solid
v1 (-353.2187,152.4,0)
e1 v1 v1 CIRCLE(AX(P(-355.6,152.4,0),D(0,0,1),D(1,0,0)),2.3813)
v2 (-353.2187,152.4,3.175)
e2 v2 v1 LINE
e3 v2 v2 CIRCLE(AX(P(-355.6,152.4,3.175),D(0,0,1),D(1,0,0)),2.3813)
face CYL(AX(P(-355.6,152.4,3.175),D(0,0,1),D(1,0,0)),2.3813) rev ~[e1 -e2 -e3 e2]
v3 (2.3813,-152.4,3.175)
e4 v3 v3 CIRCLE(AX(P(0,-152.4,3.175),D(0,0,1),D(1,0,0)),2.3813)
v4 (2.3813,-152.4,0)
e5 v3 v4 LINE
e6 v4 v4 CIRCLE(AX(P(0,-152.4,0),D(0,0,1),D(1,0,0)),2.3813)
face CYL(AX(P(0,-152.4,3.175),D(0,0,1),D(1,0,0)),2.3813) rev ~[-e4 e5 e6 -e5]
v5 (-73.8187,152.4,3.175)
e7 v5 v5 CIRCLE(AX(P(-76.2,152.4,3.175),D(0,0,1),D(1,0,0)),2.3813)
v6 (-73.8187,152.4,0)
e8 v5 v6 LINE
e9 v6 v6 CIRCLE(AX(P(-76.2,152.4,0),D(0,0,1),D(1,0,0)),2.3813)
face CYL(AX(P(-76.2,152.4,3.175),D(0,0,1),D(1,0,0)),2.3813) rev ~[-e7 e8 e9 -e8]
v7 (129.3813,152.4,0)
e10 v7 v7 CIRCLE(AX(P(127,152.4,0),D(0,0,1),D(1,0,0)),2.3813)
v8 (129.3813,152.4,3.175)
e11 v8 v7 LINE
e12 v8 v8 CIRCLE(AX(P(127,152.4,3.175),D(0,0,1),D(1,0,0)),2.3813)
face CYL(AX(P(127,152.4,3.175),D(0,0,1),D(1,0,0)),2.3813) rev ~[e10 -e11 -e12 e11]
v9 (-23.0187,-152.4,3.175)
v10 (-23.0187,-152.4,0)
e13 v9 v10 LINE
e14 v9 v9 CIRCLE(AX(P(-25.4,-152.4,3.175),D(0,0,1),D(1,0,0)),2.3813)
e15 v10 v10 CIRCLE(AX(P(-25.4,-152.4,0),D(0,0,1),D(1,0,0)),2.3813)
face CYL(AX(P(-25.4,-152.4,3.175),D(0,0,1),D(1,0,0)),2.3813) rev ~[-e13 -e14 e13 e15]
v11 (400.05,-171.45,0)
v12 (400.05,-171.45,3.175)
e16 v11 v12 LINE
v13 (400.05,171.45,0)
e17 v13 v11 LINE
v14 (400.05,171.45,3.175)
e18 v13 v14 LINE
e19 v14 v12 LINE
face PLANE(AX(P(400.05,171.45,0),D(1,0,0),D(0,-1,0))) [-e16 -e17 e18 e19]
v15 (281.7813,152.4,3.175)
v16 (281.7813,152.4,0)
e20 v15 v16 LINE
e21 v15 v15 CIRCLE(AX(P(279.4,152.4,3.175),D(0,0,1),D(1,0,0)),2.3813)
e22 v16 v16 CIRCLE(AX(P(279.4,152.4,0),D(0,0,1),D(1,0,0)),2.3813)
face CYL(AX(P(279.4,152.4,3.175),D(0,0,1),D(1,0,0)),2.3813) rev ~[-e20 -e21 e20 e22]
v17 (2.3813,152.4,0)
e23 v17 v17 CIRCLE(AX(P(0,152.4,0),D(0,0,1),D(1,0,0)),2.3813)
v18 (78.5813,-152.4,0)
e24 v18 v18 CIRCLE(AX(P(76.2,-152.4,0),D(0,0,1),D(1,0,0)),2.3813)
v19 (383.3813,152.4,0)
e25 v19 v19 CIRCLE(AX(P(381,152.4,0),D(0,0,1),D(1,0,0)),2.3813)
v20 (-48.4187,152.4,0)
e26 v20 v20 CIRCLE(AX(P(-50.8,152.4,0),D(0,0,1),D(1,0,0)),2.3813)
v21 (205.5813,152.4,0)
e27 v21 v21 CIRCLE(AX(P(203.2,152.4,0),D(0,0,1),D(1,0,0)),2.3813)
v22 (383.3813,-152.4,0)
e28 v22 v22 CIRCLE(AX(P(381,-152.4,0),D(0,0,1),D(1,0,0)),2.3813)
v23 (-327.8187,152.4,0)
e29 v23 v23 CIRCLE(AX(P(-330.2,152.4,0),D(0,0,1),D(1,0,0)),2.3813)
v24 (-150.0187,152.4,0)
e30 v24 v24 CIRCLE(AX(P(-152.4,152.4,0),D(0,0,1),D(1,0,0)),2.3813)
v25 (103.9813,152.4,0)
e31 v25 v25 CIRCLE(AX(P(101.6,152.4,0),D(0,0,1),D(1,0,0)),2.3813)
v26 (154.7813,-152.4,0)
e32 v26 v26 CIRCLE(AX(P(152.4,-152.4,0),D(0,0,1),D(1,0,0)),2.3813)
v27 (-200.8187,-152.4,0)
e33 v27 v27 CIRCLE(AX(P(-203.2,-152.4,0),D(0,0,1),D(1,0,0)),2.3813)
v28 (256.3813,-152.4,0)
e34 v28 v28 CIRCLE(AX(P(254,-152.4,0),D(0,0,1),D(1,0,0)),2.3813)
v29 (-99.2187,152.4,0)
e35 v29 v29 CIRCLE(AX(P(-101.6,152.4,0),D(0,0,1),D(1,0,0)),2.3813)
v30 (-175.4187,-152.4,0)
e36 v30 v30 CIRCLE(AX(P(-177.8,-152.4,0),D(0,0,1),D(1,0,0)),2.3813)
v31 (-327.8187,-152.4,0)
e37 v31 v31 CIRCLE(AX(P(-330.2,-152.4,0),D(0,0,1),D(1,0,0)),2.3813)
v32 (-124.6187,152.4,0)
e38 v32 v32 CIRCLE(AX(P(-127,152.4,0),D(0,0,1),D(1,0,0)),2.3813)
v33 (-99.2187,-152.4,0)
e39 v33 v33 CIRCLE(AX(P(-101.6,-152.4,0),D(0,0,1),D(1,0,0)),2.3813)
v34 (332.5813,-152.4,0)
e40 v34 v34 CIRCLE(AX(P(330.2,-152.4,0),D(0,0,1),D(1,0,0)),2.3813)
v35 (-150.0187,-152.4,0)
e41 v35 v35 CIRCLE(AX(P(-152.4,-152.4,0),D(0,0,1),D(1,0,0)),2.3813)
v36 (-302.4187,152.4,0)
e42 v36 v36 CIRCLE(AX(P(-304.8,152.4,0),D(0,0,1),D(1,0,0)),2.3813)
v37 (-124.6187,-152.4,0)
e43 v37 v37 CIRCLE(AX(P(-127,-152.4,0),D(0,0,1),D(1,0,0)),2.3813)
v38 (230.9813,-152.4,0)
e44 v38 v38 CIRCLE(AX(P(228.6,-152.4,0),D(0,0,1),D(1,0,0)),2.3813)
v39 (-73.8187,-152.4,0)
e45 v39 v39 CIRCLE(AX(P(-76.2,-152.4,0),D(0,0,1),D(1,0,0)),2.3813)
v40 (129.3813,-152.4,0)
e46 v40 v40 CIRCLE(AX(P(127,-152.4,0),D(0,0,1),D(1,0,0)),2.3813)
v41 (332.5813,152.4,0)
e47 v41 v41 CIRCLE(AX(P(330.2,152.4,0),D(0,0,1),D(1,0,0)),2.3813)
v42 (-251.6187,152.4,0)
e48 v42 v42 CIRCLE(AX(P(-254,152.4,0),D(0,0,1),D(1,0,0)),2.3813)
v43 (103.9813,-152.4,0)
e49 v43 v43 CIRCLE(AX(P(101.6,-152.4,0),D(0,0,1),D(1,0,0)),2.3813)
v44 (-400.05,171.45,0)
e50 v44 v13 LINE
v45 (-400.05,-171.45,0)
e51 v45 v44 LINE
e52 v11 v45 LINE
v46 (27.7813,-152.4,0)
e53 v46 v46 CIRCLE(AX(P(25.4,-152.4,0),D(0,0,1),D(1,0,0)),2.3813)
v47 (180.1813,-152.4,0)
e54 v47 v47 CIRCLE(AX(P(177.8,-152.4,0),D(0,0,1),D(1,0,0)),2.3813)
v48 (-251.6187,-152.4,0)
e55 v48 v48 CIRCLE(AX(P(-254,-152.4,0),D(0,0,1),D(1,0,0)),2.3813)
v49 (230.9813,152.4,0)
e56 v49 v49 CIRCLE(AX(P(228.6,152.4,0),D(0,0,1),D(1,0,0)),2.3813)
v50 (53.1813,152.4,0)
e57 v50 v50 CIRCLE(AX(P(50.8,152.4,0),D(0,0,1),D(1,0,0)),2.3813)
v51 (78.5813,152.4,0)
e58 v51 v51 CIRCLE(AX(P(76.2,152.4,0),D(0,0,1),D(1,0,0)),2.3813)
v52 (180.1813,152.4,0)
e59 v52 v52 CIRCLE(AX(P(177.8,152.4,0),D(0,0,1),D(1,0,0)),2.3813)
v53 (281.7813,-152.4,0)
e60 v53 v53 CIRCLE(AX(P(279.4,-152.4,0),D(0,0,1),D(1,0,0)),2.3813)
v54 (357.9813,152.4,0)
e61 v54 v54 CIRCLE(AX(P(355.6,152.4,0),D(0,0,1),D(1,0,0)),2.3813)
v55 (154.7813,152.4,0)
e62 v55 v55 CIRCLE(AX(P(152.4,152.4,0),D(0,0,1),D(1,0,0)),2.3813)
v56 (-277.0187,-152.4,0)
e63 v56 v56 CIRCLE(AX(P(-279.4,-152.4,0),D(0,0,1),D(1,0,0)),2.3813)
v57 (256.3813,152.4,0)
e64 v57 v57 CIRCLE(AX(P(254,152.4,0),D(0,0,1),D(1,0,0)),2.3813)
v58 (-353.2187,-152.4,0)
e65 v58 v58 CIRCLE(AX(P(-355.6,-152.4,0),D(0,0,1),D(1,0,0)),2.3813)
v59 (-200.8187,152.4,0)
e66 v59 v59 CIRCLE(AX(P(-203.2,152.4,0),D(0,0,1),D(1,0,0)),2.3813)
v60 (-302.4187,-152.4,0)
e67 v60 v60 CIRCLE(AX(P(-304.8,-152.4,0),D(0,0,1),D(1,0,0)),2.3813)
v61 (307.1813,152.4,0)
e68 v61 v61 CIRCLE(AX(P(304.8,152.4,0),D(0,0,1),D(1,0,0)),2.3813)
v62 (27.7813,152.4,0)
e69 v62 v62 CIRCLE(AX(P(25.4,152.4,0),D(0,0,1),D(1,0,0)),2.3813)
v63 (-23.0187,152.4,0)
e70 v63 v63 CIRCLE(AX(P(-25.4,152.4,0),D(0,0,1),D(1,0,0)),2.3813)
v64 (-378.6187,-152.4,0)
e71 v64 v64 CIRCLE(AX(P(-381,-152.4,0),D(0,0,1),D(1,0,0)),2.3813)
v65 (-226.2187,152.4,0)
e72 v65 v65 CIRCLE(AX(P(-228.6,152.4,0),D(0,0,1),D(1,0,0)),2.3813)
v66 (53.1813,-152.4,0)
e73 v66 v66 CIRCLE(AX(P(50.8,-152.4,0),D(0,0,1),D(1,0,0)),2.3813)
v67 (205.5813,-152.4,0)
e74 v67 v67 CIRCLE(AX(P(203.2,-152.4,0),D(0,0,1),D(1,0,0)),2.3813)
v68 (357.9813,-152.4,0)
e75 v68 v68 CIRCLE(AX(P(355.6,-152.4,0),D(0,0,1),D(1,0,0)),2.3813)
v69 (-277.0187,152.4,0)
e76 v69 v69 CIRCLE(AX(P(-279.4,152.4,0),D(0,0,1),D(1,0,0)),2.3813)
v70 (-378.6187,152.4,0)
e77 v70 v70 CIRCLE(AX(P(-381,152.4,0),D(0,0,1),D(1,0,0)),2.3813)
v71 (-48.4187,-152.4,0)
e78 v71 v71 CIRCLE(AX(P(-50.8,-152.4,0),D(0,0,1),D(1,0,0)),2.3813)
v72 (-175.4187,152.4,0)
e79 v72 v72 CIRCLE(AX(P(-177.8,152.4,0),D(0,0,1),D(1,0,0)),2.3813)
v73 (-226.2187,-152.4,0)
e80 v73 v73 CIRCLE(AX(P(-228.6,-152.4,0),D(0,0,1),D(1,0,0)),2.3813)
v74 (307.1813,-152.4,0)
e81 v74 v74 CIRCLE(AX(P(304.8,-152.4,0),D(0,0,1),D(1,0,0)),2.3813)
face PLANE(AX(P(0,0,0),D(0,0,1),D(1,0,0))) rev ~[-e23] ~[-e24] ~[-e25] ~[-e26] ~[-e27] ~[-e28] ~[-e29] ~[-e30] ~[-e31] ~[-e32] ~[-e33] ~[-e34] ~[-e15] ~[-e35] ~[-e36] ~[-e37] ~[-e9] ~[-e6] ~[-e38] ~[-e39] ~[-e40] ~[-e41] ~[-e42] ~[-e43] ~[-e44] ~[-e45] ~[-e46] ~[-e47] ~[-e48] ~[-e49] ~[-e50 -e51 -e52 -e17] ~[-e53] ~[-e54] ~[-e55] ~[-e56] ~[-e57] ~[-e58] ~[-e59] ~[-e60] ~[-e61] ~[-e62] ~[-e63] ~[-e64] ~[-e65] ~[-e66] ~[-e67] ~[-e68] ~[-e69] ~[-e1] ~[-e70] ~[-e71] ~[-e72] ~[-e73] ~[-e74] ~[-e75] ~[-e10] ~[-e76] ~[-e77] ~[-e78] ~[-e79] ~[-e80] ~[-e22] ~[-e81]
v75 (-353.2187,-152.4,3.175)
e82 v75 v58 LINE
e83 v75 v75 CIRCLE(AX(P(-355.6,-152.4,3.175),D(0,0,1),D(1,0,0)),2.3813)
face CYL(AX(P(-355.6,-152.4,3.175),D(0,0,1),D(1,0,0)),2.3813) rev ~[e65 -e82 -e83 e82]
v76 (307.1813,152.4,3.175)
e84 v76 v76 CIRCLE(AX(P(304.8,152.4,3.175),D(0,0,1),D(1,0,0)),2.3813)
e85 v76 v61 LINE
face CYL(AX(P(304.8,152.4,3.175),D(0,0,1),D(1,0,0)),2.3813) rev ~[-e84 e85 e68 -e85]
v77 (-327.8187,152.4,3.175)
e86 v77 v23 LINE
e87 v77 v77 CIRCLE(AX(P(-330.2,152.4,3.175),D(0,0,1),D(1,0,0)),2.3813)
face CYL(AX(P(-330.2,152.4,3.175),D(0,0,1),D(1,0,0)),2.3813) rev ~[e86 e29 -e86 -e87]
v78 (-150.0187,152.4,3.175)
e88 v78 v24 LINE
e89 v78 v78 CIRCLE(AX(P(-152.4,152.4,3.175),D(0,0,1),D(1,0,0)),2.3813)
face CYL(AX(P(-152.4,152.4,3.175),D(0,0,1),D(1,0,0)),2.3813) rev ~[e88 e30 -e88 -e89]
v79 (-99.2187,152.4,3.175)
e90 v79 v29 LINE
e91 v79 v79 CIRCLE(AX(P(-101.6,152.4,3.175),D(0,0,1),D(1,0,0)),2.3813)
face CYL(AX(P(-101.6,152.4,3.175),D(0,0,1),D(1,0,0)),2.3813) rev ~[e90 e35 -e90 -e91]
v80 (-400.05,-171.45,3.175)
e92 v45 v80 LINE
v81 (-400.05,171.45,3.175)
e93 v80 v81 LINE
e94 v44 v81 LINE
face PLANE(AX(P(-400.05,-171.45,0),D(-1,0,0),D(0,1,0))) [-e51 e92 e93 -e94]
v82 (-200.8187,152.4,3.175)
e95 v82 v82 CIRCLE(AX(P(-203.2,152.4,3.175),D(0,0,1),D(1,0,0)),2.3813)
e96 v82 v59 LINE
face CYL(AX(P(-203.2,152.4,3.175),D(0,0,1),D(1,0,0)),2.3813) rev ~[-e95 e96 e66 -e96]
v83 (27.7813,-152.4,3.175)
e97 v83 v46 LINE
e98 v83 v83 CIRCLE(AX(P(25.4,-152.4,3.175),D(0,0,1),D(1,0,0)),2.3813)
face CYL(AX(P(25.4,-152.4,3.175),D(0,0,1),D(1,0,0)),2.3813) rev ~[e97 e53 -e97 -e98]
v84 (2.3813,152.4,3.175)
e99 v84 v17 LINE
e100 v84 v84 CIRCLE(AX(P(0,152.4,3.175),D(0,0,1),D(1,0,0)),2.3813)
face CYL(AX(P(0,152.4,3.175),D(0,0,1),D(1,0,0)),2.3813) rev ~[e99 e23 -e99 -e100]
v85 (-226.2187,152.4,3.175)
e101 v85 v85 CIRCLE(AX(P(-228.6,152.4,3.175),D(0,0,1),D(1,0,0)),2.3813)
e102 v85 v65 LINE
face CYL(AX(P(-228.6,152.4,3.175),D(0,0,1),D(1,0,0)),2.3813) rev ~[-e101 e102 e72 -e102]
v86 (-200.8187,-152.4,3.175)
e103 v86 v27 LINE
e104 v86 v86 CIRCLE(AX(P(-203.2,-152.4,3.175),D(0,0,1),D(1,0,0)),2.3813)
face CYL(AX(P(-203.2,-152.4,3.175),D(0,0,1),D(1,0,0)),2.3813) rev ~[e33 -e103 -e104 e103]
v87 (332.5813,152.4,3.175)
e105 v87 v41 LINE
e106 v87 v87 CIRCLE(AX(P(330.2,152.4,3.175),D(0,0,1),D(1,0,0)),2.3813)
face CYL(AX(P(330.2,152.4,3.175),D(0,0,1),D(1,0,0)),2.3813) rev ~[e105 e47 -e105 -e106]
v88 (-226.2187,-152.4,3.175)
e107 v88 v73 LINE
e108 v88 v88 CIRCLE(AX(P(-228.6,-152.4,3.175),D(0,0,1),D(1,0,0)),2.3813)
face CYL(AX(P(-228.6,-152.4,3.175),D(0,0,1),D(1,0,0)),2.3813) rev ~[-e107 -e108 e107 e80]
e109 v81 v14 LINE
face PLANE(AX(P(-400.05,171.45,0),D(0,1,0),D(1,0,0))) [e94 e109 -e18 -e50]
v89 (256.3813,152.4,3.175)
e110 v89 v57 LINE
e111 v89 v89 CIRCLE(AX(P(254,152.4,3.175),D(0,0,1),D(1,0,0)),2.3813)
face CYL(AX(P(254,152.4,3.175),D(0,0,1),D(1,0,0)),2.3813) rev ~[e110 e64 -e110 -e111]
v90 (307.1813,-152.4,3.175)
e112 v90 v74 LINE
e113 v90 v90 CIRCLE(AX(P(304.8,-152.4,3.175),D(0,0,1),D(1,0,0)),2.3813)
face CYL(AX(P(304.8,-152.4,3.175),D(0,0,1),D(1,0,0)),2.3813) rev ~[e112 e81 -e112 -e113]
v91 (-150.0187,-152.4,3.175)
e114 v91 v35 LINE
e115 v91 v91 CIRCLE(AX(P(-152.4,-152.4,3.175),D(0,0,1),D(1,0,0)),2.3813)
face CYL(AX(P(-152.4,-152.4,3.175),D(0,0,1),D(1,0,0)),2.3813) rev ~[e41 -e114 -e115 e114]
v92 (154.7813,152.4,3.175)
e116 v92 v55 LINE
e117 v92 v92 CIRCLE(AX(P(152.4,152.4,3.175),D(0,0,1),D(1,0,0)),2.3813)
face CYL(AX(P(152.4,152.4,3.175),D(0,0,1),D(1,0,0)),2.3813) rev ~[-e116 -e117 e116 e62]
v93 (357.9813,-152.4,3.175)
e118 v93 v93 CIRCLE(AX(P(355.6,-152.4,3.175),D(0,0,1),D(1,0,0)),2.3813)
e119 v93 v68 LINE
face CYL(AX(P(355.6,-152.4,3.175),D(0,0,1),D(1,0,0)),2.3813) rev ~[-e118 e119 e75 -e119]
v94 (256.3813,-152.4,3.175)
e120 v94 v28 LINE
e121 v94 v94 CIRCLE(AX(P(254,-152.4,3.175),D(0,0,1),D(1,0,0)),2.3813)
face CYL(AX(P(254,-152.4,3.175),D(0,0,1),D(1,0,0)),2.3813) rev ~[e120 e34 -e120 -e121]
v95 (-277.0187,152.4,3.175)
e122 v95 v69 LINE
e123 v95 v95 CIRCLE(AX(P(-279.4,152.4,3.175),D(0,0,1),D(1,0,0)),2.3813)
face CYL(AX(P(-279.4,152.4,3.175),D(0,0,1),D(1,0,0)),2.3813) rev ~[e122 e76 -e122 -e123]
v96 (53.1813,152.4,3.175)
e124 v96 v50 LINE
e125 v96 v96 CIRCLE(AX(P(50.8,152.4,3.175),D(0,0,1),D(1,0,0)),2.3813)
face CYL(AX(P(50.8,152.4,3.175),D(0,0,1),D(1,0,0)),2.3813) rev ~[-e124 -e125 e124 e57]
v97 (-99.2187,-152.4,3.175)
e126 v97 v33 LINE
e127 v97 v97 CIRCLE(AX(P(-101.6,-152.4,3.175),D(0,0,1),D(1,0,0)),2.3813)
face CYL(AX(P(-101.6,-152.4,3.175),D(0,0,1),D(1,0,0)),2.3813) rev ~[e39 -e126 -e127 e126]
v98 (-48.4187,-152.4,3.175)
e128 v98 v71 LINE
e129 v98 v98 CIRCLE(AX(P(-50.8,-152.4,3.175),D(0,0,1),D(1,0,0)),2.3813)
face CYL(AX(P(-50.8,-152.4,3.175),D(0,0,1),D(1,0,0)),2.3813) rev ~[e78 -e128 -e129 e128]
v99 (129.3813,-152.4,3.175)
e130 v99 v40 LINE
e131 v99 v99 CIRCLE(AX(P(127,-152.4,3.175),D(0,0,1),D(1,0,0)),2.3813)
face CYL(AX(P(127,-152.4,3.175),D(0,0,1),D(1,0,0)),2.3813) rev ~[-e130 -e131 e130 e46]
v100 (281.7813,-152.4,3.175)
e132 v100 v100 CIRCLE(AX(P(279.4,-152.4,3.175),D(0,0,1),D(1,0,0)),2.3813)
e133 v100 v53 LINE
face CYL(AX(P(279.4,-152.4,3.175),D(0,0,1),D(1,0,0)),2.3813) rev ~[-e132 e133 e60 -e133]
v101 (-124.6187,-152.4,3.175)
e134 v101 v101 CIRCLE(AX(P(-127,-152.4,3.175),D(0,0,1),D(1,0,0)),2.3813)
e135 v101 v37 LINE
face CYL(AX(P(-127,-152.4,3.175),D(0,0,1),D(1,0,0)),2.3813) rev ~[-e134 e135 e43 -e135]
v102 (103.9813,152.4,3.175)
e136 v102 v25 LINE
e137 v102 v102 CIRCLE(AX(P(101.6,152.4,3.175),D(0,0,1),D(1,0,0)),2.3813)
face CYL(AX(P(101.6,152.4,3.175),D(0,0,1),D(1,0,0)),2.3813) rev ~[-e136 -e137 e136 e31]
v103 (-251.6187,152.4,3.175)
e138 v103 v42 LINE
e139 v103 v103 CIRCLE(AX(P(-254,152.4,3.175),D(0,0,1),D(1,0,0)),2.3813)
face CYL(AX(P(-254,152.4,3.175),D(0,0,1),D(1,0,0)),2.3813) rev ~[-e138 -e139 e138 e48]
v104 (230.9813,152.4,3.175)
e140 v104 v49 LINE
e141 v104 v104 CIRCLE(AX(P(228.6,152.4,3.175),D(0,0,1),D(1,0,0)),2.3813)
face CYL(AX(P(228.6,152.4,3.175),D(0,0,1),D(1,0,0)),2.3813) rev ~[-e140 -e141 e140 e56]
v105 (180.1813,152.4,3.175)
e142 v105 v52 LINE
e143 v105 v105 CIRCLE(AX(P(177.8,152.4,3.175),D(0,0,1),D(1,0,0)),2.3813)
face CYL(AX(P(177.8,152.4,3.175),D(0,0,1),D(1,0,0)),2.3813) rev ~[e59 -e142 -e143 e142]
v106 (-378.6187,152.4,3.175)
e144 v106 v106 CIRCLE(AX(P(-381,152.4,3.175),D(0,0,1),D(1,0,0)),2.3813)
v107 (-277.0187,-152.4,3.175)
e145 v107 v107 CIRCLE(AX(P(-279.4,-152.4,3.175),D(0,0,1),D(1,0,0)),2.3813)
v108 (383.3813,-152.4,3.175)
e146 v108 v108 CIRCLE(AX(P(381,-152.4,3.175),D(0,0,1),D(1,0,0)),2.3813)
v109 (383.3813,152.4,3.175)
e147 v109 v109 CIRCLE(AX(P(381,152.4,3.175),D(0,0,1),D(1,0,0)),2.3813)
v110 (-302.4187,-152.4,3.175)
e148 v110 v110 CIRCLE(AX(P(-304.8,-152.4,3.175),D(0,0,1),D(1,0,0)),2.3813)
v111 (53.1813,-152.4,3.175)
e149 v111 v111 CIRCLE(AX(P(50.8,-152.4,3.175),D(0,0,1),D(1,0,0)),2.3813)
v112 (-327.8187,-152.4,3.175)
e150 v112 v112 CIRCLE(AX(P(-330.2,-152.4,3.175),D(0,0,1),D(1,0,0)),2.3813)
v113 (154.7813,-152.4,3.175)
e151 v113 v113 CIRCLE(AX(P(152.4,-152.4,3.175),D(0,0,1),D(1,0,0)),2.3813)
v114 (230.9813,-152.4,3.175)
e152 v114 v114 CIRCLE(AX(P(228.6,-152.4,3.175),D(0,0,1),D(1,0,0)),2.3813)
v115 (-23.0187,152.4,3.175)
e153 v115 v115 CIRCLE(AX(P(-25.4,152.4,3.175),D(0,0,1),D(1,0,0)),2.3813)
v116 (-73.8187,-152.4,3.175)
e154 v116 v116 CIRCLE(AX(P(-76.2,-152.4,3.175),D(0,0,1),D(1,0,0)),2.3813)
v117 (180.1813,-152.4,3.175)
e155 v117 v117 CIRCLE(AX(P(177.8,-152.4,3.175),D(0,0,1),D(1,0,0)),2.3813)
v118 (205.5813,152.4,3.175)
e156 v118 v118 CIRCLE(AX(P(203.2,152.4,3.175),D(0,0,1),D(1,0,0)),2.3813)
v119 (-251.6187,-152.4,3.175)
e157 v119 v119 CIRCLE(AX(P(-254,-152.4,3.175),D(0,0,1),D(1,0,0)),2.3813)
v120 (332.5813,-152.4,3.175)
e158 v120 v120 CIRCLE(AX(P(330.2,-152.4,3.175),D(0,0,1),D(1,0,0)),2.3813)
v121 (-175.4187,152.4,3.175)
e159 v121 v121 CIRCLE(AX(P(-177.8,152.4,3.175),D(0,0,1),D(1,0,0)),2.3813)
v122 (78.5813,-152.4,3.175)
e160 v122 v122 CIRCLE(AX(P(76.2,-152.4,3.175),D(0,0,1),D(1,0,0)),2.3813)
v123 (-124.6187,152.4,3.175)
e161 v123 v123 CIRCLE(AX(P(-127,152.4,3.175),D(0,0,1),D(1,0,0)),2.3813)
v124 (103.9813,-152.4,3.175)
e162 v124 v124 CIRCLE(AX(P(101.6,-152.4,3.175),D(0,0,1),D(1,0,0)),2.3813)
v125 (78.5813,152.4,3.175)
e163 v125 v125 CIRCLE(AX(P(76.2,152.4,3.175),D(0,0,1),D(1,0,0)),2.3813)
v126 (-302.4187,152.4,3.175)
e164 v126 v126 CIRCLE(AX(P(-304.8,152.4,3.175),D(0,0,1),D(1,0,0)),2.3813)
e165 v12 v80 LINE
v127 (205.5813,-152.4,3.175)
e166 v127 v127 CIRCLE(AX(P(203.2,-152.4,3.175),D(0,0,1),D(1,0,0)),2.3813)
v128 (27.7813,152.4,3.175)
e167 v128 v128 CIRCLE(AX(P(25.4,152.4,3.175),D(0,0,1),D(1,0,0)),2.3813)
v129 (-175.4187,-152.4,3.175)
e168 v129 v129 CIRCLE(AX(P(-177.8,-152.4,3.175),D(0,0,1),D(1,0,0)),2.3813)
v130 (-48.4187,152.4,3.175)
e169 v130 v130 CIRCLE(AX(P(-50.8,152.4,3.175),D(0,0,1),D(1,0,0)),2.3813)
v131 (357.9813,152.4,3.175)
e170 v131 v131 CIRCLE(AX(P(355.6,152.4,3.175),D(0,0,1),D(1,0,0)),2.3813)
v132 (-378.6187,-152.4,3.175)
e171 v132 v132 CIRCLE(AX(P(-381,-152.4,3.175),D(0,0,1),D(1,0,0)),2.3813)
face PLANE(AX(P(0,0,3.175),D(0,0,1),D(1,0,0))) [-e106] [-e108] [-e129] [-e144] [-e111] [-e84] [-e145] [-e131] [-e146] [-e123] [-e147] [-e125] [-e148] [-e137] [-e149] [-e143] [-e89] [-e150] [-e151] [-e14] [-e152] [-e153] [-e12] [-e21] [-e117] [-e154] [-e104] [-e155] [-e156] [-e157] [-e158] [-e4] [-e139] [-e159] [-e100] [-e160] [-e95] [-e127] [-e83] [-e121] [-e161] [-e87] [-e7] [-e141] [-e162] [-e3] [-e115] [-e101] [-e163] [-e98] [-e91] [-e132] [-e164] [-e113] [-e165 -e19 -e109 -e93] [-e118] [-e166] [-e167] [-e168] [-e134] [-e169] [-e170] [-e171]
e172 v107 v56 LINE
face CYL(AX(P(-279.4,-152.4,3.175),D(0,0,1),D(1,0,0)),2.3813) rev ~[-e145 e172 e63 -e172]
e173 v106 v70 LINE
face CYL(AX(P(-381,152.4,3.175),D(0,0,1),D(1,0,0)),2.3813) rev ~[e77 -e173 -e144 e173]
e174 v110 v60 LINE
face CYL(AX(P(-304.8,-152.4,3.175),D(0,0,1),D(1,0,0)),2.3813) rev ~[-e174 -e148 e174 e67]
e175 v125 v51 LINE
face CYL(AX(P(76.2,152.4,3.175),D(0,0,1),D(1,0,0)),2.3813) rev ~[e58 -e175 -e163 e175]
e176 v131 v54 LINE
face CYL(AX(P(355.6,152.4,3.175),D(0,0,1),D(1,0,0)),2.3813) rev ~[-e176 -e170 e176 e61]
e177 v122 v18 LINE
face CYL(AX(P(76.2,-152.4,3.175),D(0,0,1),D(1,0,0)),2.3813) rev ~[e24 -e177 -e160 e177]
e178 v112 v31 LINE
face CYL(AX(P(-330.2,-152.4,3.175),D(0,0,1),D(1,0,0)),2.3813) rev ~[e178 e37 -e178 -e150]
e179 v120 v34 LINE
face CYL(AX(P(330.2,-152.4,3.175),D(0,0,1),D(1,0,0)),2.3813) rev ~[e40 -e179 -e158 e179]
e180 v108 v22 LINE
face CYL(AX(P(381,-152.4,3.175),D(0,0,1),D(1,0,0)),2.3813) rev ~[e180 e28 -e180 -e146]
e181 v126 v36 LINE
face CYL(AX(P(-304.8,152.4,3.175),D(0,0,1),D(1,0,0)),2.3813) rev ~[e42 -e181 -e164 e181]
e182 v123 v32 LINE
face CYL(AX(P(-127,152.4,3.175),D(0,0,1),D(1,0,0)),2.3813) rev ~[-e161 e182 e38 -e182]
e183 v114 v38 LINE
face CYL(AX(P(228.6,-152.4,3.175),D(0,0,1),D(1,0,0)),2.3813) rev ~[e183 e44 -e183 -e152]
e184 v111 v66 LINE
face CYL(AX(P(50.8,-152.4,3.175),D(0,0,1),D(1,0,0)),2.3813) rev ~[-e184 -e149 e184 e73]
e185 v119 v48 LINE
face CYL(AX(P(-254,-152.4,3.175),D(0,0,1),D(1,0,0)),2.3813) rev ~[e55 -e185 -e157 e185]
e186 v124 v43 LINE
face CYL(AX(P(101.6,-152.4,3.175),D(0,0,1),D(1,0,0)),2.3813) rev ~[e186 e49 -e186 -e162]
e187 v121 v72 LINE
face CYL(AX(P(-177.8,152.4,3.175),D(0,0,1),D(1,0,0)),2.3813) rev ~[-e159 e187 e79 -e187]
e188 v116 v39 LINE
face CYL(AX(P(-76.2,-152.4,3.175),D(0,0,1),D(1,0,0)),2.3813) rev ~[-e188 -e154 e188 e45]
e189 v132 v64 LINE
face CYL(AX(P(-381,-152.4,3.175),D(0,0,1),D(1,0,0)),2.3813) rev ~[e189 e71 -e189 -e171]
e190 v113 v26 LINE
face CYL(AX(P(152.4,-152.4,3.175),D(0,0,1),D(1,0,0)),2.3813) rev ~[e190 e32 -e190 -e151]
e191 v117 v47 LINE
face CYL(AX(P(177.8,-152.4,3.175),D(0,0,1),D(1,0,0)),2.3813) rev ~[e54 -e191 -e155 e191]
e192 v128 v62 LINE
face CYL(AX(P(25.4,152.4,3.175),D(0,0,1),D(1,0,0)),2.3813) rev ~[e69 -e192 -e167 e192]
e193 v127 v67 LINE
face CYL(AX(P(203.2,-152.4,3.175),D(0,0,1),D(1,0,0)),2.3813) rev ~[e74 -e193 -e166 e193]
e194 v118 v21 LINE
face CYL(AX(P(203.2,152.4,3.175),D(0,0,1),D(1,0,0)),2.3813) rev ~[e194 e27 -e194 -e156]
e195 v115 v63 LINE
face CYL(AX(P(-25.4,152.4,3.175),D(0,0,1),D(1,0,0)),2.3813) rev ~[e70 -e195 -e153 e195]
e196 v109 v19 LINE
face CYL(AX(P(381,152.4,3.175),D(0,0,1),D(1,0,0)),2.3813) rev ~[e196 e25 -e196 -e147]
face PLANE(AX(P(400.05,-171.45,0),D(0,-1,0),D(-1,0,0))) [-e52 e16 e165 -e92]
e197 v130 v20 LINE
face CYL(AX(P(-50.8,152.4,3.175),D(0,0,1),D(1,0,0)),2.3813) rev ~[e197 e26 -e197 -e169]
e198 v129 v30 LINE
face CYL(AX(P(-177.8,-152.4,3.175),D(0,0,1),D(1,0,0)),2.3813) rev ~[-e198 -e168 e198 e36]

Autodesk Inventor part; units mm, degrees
ref_plane "YZ Plane" through (0, 0, 0) normal (1, 0, 0) x (0, 1, 0)
ref_plane "XZ Plane" through (0, 0, 0) normal (0, 1, 0) x (-1, 0, 0)
ref_plane "XY Plane" through (0, 0, 0) normal (0, 0, 1) x (1, 0, 0)
sketch "Sketch1" plane through (0, 0, 0) normal (0, 0, 1) x (1, 0, 0)
  line L0 (-400.05, 171.45) -> (400.05, 171.45)
  line L1 (400.05, 171.45) -> (400.05, -171.45)
  line L2 (400.05, -171.45) -> (-400.05, -171.45)
  line L3 (-400.05, -171.45) -> (-400.05, 171.45)
  point P0 (0, 0)
  point P1 (0, 171.45)
  point P2 (400.05, 0)
  dimension "d0" = 800.1
  dimension "d1" = 342.9
extrude "Extrusion1" add sketch "Sketch1" along normal blind 3.175
sketch "Sketch2" plane through (0, 0, 3.175) normal (0, 0, 1) x (1, 0, 0)
  line L0 (-400.05, 171.45) -> (400.05, 171.45) projected
  line L1 (-400.05, -171.45) -> (-400.05, 171.45) projected
  line L2 (400.05, -171.45) -> (-400.05, -171.45) projected
  circle A0 centre (-381, 152.4) radius 2.3813
  line L3 (-400.05, 0) -> (0, 0) construction
  circle A1 centre (-381, -152.4) radius 2.3813
  dimension "d4" = 4.7625
  dimension "d5" = 19.05
  dimension "d6" = 19.05
extrude "Extrusion2" cut sketch "Sketch2" against normal up to next
pattern_linear "Rectangular Pattern1" count 31 spacing 25.4 along (1, 0, 0) of "Extrusion2"
sketch "Sketch3" plane through (0, 0, 3.175) normal (0, 0, 1) x (1, 0, 0)
  line L0 (-355.6, 71.1125) -> (355.6, 71.1125) construction
  line L1 (355.6, 71.1125) -> (355.6, -71.1125) construction
  line L2 (355.6, -71.1125) -> (-355.6, -71.1125) construction
  line L3 (-355.6, -71.1125) -> (-355.6, 71.1125) construction
  point P0 (0, 0)
  point P1 (-355.6, 0)
  point P2 (0, 71.1125)
  dimension "d20" = 711.2
decal "Decal1"
equation "\"d6\" = d5"
properties part number "Front Screen" material "Polycarbonate, Smoke"
